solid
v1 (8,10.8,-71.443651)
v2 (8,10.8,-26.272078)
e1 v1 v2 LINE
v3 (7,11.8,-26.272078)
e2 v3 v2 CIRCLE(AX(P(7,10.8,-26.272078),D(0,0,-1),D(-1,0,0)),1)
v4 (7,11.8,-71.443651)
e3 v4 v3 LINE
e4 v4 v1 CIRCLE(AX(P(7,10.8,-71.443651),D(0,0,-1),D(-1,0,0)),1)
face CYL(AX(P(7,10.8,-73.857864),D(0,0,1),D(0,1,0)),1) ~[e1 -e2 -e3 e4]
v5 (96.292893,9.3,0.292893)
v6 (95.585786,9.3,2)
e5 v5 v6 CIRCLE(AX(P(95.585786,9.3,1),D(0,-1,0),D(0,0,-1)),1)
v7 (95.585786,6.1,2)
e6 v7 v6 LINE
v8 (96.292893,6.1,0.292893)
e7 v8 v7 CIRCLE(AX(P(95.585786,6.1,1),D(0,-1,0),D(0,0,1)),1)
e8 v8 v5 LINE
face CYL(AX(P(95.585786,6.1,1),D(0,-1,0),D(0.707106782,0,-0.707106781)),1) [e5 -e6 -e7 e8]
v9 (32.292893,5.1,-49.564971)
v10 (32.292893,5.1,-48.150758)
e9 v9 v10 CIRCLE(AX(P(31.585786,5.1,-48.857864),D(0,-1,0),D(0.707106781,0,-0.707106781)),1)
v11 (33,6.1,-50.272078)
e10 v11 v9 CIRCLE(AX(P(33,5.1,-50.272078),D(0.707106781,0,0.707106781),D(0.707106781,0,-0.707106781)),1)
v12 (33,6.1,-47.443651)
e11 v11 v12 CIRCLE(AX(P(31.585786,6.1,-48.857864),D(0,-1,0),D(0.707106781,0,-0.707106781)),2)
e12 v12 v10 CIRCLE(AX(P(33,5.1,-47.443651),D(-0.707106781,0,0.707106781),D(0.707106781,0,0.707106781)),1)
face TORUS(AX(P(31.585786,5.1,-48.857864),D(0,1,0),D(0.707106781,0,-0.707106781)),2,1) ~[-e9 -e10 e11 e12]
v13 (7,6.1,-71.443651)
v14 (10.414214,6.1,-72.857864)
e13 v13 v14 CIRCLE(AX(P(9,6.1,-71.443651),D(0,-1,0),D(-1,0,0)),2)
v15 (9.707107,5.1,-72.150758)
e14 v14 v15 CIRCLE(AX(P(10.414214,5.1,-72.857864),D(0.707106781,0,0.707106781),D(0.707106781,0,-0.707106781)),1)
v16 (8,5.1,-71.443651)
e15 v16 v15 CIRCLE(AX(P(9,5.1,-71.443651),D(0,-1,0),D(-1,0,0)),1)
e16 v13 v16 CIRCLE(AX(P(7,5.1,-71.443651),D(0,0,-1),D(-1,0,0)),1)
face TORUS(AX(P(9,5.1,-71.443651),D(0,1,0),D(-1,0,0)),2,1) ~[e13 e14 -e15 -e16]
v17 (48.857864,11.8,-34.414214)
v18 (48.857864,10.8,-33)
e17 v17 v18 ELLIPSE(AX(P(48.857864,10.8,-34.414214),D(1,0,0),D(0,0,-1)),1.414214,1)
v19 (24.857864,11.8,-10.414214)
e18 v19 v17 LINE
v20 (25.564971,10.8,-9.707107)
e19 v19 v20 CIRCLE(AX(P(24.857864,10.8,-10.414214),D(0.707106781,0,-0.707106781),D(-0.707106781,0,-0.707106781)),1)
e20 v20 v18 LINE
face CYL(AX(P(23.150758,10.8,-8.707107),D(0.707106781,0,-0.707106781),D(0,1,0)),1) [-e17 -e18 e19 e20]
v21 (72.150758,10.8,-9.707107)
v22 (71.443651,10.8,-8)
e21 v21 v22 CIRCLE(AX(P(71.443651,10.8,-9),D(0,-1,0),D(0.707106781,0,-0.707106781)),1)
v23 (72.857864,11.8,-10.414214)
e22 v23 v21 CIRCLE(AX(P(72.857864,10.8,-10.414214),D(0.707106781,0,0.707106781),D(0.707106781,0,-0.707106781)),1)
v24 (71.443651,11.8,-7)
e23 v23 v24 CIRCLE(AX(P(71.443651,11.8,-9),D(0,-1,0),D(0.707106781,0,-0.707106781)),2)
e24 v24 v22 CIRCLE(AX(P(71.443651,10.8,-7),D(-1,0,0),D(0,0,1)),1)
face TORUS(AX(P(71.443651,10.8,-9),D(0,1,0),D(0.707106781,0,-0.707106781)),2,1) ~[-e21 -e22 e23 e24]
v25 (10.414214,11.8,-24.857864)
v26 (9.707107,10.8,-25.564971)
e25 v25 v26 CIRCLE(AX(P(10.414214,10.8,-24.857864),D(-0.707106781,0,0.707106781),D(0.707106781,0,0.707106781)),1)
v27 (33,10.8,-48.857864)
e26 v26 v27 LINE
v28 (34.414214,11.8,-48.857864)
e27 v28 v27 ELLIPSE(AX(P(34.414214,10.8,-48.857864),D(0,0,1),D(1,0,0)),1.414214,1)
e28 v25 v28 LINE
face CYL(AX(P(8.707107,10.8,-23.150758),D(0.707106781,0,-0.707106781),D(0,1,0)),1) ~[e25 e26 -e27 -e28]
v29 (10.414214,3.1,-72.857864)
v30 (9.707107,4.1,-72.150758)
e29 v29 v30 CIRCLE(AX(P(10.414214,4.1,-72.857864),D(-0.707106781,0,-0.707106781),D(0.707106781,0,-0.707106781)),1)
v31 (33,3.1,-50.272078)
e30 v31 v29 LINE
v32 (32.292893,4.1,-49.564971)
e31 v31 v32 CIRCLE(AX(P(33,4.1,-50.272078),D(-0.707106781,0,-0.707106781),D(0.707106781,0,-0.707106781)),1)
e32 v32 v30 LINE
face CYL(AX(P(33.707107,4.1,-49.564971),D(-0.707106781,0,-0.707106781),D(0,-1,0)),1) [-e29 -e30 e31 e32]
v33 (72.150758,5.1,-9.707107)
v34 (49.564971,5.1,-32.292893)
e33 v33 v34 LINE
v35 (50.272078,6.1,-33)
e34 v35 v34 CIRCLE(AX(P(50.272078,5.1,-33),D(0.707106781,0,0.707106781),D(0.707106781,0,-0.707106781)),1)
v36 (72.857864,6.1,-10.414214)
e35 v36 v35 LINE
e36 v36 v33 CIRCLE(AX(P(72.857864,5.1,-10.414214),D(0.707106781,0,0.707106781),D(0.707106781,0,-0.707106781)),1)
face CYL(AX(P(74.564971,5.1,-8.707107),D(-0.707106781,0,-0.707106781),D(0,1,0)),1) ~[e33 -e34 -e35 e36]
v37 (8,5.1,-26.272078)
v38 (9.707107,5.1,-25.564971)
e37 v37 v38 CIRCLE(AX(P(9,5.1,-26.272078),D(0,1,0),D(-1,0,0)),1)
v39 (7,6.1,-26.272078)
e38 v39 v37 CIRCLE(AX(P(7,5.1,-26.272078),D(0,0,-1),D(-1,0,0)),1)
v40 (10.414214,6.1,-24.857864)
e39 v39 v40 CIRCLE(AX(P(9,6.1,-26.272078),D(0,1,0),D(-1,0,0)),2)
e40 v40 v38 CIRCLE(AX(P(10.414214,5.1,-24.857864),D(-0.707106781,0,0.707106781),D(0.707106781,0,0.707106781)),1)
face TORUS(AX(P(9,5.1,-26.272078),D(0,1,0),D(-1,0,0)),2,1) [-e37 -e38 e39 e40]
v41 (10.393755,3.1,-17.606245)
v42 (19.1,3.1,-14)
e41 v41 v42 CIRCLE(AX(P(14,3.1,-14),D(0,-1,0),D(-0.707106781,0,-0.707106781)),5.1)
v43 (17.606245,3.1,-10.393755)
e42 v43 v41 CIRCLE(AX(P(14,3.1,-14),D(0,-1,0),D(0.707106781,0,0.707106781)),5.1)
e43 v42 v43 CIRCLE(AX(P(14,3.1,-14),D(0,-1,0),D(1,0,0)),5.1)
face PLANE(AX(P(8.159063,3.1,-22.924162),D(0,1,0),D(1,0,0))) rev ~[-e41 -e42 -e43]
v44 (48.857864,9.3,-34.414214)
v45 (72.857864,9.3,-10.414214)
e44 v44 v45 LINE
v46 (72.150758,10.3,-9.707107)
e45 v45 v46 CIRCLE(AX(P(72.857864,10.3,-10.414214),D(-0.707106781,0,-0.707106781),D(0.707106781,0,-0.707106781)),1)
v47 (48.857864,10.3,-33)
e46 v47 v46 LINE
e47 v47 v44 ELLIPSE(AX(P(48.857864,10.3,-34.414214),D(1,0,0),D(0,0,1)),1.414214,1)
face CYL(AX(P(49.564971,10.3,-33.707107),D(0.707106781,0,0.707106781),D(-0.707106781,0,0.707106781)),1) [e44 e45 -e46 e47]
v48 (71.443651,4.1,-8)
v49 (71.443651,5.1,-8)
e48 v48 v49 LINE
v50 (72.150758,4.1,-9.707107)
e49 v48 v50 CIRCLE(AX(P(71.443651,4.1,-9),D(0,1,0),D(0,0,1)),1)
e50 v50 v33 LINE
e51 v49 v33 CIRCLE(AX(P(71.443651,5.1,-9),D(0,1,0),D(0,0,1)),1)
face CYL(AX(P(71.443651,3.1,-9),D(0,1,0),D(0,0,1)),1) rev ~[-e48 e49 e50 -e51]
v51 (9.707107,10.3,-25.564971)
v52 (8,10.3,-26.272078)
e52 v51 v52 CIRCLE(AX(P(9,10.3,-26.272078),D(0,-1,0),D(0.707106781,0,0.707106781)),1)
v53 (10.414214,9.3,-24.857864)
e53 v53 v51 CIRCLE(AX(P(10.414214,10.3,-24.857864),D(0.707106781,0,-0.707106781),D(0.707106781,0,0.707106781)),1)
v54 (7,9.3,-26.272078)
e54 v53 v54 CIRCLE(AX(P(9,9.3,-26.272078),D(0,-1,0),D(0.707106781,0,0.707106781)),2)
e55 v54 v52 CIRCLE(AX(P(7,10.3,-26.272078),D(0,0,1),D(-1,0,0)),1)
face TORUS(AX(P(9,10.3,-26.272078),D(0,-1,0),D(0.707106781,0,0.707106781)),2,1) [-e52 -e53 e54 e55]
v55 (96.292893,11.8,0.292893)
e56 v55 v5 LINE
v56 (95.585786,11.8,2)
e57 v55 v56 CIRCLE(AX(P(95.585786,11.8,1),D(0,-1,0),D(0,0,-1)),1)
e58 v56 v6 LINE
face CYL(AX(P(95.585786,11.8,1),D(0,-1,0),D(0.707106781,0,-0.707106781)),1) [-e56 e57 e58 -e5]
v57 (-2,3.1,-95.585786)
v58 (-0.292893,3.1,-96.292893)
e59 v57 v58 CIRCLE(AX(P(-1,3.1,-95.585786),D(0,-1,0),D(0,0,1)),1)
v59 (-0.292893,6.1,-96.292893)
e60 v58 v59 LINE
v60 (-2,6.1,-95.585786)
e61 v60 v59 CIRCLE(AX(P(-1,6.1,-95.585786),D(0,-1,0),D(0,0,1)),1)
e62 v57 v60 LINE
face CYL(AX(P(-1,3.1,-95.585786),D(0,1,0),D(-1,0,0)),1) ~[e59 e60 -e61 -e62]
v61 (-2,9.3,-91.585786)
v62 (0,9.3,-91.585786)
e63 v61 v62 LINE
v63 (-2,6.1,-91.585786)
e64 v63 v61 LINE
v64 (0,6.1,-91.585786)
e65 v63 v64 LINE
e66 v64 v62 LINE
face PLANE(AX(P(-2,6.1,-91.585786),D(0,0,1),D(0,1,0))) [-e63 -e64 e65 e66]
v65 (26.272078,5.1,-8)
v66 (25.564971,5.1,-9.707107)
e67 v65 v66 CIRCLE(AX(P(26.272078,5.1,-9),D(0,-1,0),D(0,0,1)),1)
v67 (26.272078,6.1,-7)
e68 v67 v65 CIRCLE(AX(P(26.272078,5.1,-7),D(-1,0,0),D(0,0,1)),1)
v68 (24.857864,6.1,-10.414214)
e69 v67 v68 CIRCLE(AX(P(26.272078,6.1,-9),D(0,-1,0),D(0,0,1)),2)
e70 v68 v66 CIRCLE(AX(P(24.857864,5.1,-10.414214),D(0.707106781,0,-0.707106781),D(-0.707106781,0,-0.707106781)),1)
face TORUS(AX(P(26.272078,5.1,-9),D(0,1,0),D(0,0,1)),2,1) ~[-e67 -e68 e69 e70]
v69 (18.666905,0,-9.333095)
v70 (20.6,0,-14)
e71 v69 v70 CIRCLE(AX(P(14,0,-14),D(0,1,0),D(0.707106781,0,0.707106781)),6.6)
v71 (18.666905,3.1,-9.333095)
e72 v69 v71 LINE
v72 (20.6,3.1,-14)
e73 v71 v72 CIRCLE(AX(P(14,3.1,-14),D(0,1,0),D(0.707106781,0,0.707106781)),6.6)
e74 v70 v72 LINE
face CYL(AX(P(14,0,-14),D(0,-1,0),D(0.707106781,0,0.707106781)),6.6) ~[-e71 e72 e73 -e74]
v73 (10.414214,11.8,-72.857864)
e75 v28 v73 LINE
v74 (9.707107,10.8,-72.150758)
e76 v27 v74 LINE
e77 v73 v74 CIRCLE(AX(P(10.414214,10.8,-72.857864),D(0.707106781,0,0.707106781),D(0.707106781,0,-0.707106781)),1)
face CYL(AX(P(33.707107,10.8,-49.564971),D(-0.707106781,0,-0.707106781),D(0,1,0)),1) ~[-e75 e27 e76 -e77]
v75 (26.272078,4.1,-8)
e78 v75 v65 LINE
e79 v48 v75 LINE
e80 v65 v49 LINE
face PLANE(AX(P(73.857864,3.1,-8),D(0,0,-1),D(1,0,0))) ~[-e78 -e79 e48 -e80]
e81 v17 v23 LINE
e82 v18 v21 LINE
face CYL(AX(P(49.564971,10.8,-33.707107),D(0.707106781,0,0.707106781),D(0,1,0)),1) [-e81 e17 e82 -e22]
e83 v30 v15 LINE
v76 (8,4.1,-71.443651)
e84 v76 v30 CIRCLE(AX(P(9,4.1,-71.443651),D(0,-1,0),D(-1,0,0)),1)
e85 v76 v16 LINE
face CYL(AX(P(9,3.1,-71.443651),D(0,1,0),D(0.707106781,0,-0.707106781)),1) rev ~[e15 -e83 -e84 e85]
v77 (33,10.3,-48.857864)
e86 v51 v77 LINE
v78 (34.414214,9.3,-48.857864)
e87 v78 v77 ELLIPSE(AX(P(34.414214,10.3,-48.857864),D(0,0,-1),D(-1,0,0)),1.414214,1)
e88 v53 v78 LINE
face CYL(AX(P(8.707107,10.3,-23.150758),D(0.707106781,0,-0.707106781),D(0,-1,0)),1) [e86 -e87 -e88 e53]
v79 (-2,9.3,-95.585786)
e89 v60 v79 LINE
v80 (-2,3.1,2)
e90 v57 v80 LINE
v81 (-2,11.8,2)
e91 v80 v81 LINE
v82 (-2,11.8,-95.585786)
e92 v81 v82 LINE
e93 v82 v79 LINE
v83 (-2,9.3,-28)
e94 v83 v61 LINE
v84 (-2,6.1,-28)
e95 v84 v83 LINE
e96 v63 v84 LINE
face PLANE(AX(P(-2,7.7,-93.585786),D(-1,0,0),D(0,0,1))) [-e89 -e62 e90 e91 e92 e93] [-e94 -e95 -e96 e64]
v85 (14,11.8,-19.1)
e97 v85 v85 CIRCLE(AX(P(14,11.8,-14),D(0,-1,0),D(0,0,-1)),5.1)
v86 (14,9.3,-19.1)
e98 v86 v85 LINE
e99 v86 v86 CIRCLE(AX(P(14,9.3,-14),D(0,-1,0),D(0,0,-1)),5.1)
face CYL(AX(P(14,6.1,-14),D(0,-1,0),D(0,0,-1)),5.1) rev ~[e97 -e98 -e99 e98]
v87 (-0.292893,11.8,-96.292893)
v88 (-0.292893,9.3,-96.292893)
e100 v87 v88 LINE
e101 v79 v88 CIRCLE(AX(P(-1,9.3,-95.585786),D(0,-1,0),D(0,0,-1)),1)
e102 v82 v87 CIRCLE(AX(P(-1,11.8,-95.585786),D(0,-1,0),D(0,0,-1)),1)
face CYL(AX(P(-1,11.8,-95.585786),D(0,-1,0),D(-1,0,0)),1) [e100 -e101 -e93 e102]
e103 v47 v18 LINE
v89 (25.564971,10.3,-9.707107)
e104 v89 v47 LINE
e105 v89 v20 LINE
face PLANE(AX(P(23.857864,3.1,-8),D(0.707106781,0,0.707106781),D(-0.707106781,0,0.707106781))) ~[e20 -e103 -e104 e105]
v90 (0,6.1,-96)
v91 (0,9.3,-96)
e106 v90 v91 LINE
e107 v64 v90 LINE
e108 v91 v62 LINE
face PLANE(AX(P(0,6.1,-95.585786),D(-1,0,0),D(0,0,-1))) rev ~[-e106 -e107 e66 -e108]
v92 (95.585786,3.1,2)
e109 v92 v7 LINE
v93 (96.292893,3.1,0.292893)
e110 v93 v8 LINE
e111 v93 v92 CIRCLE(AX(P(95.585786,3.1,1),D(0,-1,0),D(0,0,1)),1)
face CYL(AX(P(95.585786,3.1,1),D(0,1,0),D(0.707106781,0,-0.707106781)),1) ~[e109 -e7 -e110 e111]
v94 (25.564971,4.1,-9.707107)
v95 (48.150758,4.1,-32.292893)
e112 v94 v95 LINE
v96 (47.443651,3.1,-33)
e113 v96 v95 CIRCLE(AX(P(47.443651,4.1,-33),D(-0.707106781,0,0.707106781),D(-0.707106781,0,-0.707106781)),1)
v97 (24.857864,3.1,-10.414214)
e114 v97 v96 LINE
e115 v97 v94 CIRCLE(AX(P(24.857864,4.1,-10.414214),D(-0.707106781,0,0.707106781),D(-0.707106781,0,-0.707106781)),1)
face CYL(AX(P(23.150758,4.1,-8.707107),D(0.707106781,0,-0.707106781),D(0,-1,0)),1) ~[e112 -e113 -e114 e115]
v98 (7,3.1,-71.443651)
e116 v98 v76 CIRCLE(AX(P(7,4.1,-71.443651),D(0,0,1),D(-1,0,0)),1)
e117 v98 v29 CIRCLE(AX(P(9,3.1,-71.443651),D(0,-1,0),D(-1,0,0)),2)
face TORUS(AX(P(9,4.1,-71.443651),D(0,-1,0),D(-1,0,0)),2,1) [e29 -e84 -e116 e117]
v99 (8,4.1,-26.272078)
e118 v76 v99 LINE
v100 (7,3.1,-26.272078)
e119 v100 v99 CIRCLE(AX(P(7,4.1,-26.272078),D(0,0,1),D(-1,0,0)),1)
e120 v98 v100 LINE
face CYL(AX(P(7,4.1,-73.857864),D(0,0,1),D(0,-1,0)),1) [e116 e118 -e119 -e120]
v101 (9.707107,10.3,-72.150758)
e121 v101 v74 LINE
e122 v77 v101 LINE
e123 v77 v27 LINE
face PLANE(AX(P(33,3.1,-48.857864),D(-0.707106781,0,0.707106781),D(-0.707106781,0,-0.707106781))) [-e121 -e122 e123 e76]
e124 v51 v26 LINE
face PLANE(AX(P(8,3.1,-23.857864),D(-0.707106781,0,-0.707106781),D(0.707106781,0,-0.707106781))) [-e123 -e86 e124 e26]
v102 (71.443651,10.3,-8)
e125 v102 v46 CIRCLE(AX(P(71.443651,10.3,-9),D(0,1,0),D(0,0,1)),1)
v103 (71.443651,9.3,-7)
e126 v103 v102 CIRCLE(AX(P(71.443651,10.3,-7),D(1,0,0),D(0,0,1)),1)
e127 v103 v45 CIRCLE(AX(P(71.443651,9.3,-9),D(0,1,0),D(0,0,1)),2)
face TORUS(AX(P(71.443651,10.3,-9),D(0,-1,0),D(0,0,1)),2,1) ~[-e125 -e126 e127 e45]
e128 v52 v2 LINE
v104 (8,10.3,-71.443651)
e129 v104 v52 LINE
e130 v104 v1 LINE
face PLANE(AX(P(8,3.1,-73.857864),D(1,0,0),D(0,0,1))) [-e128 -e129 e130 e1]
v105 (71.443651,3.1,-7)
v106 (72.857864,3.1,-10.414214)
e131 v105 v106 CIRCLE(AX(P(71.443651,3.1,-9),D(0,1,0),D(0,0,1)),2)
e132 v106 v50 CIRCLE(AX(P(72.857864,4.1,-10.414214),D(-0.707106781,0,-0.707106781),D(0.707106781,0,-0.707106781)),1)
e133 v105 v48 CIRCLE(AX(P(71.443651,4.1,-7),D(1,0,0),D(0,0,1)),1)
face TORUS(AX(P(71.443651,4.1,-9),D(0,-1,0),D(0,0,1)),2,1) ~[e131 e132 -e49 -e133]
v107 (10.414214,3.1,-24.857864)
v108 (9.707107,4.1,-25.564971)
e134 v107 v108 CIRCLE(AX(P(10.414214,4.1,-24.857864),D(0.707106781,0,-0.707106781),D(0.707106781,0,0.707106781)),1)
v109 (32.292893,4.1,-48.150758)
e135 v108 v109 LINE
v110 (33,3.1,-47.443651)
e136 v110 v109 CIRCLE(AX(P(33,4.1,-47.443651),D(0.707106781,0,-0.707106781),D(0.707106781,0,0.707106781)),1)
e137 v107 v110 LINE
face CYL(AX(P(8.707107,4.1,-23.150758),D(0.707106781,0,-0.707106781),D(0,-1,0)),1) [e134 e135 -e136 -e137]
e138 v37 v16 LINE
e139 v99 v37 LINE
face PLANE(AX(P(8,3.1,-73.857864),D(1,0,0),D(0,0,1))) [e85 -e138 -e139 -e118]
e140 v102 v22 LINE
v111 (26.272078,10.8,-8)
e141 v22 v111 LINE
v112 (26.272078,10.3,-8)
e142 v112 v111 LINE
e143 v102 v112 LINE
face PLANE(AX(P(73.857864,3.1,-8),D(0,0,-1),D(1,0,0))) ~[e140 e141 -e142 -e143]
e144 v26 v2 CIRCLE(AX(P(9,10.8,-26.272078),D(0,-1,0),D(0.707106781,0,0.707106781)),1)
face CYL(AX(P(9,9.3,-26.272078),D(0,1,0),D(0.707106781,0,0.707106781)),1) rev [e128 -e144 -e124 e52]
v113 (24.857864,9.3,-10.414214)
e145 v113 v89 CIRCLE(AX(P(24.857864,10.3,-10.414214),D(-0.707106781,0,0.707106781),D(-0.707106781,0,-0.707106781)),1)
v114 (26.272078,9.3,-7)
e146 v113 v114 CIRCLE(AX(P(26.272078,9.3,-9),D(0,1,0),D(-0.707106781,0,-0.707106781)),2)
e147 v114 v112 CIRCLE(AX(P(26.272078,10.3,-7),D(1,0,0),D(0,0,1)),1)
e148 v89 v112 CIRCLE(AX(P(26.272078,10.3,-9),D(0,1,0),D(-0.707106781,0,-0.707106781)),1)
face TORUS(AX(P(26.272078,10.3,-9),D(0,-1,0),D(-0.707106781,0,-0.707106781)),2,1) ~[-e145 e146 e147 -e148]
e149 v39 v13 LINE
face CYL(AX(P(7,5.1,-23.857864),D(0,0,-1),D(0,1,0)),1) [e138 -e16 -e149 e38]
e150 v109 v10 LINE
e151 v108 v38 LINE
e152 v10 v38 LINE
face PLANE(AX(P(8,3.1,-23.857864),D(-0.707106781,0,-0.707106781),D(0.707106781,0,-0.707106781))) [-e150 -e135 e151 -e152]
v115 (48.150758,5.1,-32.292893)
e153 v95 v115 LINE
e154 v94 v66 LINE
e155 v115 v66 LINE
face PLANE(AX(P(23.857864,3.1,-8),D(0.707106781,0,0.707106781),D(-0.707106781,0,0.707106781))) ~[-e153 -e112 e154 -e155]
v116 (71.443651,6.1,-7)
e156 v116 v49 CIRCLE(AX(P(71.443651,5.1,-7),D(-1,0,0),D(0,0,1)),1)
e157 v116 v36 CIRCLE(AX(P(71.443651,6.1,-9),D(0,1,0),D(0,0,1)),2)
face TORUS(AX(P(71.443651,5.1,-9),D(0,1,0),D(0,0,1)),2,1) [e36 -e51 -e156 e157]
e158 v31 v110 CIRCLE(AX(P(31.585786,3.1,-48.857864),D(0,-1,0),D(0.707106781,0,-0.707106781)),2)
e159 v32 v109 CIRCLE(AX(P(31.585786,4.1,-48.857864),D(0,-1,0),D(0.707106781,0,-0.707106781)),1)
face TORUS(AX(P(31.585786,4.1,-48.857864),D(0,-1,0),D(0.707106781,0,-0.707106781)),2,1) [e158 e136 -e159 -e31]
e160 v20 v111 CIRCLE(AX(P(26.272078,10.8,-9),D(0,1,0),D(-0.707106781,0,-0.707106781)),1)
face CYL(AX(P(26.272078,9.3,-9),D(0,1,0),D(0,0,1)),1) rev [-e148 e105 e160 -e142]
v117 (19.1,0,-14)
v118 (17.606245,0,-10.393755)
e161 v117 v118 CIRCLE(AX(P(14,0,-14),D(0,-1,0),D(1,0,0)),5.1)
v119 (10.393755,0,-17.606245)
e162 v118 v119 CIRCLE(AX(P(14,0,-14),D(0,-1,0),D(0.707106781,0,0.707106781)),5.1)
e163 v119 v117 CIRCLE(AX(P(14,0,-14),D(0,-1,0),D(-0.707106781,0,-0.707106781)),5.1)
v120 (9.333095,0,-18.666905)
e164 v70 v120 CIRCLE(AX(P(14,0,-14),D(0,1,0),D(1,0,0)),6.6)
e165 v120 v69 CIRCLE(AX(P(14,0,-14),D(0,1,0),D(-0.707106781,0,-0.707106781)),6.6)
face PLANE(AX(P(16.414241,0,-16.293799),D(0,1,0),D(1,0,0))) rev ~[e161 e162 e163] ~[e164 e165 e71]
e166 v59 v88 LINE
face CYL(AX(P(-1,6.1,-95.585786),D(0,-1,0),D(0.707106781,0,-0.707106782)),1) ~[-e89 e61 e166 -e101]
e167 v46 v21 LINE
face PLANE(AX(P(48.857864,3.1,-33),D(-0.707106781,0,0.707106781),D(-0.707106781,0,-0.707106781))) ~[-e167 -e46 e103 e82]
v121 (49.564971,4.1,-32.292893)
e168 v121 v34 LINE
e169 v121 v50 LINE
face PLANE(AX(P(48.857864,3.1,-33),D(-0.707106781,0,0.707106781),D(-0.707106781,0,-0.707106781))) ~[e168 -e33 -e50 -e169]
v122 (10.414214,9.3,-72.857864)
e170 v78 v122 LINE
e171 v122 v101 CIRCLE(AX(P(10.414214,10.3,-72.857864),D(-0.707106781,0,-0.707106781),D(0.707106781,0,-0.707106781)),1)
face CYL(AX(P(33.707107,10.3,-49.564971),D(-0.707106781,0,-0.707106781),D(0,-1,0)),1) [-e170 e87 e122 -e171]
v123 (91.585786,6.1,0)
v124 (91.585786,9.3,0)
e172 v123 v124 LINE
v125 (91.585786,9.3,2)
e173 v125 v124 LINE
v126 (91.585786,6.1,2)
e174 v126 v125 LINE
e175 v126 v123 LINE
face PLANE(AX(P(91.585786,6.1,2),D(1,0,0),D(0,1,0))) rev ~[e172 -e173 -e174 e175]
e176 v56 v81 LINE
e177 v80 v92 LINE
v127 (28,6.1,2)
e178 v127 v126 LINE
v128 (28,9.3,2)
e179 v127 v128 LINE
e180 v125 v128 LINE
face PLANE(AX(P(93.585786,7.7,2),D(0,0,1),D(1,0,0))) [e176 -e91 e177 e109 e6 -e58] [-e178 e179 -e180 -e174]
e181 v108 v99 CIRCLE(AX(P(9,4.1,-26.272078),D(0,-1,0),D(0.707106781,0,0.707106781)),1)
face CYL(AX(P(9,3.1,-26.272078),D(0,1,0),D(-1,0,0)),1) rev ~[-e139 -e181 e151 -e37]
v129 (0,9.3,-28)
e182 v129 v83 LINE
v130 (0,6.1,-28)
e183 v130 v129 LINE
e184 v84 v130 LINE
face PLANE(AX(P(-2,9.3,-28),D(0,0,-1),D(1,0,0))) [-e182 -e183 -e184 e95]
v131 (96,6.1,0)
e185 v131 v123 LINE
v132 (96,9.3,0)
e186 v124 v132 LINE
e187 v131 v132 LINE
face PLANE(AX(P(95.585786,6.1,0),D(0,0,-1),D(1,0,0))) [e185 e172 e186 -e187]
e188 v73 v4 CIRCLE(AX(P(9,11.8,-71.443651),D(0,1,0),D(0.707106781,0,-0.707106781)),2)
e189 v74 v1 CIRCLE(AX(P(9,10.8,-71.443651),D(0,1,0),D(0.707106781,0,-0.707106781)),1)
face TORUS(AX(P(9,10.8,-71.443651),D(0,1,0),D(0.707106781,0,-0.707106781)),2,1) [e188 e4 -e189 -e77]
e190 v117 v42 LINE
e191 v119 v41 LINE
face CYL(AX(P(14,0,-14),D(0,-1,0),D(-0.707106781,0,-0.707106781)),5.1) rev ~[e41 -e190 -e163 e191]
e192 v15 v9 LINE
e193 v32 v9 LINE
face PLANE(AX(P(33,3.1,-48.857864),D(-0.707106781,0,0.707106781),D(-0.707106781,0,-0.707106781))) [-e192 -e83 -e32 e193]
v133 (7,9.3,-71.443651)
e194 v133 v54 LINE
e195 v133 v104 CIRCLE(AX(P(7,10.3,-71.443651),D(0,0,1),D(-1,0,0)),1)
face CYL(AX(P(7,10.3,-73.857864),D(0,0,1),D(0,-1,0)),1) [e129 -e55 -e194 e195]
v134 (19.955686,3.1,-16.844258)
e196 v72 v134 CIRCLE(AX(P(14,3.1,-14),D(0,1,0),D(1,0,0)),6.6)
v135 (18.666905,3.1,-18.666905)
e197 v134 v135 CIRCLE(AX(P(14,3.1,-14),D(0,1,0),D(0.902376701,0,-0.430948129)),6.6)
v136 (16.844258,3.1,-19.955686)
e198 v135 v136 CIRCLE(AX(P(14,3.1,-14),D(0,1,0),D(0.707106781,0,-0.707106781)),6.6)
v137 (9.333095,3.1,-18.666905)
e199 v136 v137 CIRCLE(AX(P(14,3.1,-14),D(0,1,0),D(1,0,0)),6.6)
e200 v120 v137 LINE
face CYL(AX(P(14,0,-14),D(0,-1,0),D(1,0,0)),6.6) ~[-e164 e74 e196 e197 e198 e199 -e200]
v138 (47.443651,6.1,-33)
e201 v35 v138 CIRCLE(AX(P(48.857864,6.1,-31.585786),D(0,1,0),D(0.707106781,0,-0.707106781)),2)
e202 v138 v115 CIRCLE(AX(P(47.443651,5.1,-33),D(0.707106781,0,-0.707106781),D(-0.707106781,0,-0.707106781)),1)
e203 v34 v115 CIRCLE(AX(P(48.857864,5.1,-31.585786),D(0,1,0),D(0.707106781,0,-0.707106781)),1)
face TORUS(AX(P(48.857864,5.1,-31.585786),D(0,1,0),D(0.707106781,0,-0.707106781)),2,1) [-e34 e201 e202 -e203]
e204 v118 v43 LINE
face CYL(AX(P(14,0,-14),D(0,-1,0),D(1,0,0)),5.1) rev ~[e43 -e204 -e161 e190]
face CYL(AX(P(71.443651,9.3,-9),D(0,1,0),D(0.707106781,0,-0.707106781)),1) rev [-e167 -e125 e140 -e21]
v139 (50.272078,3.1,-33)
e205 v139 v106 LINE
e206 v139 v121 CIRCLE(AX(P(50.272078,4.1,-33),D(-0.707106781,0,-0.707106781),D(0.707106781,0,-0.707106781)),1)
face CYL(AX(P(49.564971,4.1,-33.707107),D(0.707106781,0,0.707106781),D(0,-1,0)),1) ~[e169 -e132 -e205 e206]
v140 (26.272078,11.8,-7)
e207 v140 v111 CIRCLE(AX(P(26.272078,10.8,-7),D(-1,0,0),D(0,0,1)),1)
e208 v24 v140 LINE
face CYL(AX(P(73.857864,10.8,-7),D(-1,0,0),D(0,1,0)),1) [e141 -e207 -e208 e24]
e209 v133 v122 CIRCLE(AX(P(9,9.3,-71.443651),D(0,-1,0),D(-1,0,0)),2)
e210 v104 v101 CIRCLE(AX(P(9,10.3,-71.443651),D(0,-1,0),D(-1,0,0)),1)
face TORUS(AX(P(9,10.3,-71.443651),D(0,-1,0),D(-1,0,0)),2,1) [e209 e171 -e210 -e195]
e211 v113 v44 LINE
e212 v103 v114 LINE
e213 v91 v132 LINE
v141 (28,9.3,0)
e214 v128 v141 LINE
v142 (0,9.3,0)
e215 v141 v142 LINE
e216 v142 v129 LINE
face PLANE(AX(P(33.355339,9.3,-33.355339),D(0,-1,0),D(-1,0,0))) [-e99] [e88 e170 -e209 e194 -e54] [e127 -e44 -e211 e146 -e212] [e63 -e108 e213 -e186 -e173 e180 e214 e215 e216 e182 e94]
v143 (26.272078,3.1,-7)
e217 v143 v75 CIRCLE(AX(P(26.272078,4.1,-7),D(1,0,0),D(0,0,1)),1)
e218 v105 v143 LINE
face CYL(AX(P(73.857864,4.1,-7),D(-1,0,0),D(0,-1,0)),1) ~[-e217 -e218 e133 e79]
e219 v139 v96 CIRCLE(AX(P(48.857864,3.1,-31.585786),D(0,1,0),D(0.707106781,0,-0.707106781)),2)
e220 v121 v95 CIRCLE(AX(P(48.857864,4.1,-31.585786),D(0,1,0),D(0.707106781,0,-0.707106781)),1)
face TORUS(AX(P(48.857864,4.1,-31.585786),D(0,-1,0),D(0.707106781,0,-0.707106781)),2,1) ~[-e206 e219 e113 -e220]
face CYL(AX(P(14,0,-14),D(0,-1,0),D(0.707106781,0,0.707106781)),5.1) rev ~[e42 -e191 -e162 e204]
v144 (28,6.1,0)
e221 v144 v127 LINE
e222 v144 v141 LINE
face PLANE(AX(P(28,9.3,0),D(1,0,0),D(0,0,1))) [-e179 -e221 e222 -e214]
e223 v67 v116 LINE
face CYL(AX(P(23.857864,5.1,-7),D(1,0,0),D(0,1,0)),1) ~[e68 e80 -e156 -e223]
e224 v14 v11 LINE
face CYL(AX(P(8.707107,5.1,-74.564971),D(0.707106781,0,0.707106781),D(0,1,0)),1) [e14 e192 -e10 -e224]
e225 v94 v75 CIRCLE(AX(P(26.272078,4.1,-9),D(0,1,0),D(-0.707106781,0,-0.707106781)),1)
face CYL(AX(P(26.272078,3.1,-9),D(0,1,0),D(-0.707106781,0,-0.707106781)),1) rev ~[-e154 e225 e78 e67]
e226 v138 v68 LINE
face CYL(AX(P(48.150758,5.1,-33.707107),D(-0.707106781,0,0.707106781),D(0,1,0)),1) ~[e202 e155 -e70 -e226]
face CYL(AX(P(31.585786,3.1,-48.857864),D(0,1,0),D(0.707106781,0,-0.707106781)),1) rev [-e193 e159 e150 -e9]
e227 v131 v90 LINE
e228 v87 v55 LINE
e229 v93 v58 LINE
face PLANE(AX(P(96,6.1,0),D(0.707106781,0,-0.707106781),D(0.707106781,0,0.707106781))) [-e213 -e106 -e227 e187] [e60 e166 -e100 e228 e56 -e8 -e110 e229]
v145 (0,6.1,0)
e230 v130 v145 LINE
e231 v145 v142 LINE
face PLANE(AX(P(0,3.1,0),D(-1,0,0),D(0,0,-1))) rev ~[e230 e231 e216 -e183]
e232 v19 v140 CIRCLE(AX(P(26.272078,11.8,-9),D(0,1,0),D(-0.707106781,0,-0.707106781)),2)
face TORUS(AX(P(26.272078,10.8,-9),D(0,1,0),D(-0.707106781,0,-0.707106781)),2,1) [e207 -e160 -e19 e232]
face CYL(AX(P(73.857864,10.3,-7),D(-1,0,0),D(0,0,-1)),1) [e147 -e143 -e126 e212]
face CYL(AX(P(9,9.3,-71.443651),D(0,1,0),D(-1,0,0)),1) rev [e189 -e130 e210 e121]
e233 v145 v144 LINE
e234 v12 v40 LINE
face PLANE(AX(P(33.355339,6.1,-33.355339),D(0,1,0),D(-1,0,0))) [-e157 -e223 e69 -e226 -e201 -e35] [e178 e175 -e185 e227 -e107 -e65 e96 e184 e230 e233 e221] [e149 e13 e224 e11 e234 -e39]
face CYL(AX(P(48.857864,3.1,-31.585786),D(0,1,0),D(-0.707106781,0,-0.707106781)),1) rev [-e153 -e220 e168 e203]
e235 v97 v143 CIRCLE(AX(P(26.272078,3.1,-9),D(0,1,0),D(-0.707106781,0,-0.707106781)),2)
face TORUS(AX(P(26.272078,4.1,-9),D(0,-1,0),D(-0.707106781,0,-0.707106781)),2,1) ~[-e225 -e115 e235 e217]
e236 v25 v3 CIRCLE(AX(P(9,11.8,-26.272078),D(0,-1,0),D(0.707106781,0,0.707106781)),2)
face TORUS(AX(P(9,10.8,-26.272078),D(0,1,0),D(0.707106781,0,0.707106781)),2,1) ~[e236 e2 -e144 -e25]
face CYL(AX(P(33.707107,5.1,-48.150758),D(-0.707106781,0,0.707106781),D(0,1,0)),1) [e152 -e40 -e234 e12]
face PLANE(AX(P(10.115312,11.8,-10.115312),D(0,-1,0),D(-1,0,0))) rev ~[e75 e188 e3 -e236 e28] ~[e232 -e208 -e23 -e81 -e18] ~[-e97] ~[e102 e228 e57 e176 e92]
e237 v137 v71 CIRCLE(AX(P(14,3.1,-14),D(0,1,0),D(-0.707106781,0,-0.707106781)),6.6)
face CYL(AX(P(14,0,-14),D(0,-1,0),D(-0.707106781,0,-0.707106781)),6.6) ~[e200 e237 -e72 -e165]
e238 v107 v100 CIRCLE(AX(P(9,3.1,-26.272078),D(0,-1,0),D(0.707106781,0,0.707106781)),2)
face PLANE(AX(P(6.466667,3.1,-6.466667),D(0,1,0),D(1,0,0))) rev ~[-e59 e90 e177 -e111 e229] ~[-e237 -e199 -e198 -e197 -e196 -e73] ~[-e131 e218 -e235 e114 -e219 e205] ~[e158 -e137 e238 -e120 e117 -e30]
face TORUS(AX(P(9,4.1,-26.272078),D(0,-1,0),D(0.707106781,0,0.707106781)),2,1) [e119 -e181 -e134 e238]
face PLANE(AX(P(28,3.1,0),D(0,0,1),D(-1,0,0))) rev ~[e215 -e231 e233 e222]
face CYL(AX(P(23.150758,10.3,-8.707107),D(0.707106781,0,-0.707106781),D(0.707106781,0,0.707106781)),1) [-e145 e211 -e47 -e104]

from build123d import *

# Parameters (mm, degrees)
BOSS_EXTRUDE1_DEPTH      = 3.1
BOSS_EXTRUDE2_DEPTH      = 3
BOSS_EXTRUDE4_DEPTH      = 3.2
BOSS_EXTRUDE4_DEPTH_BACK = 3
BOSS_EXTRUDE5_DEPTH      = 2.5
BOSS_EXTRUDE6_DEPTH      = 2.5
CUT_EXTRUDE1_START       = -3
SKETCH7_R                = 5.1
CUT_EXTRUDE1_DEPTH       = 10
BOSS_EXTRUDE7_DEPTH      = 3
FILLET1_R                = 1
CUT_EXTRUDE3_DEPTH       = 137.869712806
FILLET2_R                = 1
FILLET2_OF_MIRROR1_R     = 1
SKETCH20_W               = 4
SKETCH20_H               = 3.2
BOSS_EXTRUDE8_DEPTH      = 2
BOSS_EXTRUDE9_DEPTH      = 3.2
SKETCH22_W               = 4
SKETCH22_H               = 3.2
BOSS_EXTRUDE10_DEPTH     = 2
BOSS_EXTRUDE11_DEPTH     = 3.2


with BuildPart() as part:
    # Sketch1 → Boss-Extrude1 (new body)
    with BuildSketch(Plane(origin=(0, 0, 0), x_dir=(1, 0, 0), z_dir=(0, 1, 0))):
        with BuildLine():
            ThreePointArc((20.6, 14), (16.525710654, 20.097604915), (9.333095244, 18.666904756))
            Line((9.333095244, 18.666904756), (10.393755416, 17.606244584))
            ThreePointArc((10.393755416, 17.606244584), (15.951685505, 18.711785616), (19.1, 14))
            ThreePointArc((19.1, 14), (18.711785616, 12.048314495), (17.606244584, 10.393755416))
            Line((17.606244584, 10.393755416), (18.666904756, 9.333095244))
            ThreePointArc((18.666904756, 9.333095244), (20.097604915, 11.474289346), (20.6, 14))
        make_face()
        with BuildLine():
            Line((10.393755416, 17.606244584), (9.333095244, 18.666904756))
            ThreePointArc((9.333095244, 18.666904756), (9.333095244, 9.333095244), (18.666904756, 9.333095244))
            Line((18.666904756, 9.333095244), (17.606244584, 10.393755416))
            ThreePointArc((17.606244584, 10.393755416), (10.393755416, 10.393755416), (10.393755416, 17.606244584))
        make_face()
    extrude(amount=BOSS_EXTRUDE1_DEPTH)

    # Sketch2 → Boss-Extrude2 (add)
    with BuildSketch(Plane(origin=(0, 3.1, 0), x_dir=(1, 0, 0), z_dir=(0, 1, 0))):
        with BuildLine():
            Line((16.844257653, 19.955686224), (0, 28))
            Line((0, 28), (4.242424242, 23.757575758))
            Line((4.242424242, 23.757575758), (8.980990355, 21.494578276))
            Line((8.980990355, 21.494578276), (7.411542732, 20.588457268))
            Line((7.411542732, 20.588457268), (9.333095244, 18.666904756))
            ThreePointArc((9.333095244, 18.666904756), (12.883868272, 20.504940428), (16.844257653, 19.955686224))
        make_face()
        with BuildLine():
            Line((0, 28), (0, 0))
            Line((0, 0), (9.333095244, 9.333095244))
            ThreePointArc((9.333095244, 9.333095244), (7.4, 14), (9.333095244, 18.666904756))
            Line((9.333095244, 18.666904756), (7.411542732, 20.588457268))
            Line((7.411542732, 20.588457268), (4, 18.618802154))
            Line((4, 18.618802154), (4, 23.873350327))
            Line((4, 23.873350327), (4.242424242, 23.757575758))
            Line((4.242424242, 23.757575758), (0, 28))
        make_face()
        with BuildLine():
            Line((9.333095244, 9.333095244), (0, 0))
            Line((0, 0), (28, 0))
            Line((28, 0), (23.757575758, 4.242424242))
            Line((23.757575758, 4.242424242), (23.873350327, 4))
            Line((23.873350327, 4), (18.618802154, 4))
            Line((18.618802154, 4), (20.588457268, 7.411542732))
            Line((20.588457268, 7.411542732), (18.666904756, 9.333095244))
            ThreePointArc((18.666904756, 9.333095244), (14, 7.4), (9.333095244, 9.333095244))
        make_face()
        with BuildLine():
            Line((23.757575758, 4.242424242), (28, 0))
            Line((28, 0), (19.955686224, 16.844257653))
            ThreePointArc((19.955686224, 16.844257653), (20.436906442, 15.458161671), (20.6, 14))
            ThreePointArc((20.6, 14), (20.097604915, 11.474289346), (18.666904756, 9.333095244))
            Line((18.666904756, 9.333095244), (20.588457268, 7.411542732))
            Line((20.588457268, 7.411542732), (21.494578276, 8.980990355))
            Line((21.494578276, 8.980990355), (23.757575758, 4.242424242))
        make_face()
        with BuildLine():
            ThreePointArc((9.333095244, 18.666904756), (7.4, 14), (9.333095244, 9.333095244))
            Line((9.333095244, 9.333095244), (10.393755416, 10.393755416))
            ThreePointArc((10.393755416, 10.393755416), (8.9, 14), (10.393755416, 17.606244584))
            Line((10.393755416, 17.606244584), (9.333095244, 18.666904756))
        make_face()
        with BuildLine():
            Line((10.393755416, 10.393755416), (9.333095244, 9.333095244))
            ThreePointArc((9.333095244, 9.333095244), (14, 7.4), (18.666904756, 9.333095244))
            Line((18.666904756, 9.333095244), (17.606244584, 10.393755416))
            ThreePointArc((17.606244584, 10.393755416), (14, 8.9), (10.393755416, 10.393755416))
        make_face()
        with BuildLine():
            ThreePointArc((18.666904756, 18.666904756), (17.810463174, 19.388911801), (16.844257653, 19.955686224))
            ThreePointArc((16.844257653, 19.955686224), (12.883868272, 20.504940428), (9.333095244, 18.666904756))
            Line((9.333095244, 18.666904756), (10.393755416, 17.606244584))
            ThreePointArc((10.393755416, 17.606244584), (14, 19.1), (17.606244584, 17.606244584))
            Line((17.606244584, 17.606244584), (18.666904756, 18.666904756))
        make_face()
        with BuildLine():
            ThreePointArc((20.6, 14), (20.436906442, 15.458161671), (19.955686224, 16.844257653))
            ThreePointArc((19.955686224, 16.844257653), (19.388911801, 17.810463174), (18.666904756, 18.666904756))
            Line((18.666904756, 18.666904756), (17.606244584, 17.606244584))
            ThreePointArc((17.606244584, 17.606244584), (18.711785616, 15.951685505), (19.1, 14))
            ThreePointArc((19.1, 14), (18.711785616, 12.048314495), (17.606244584, 10.393755416))
            Line((17.606244584, 10.393755416), (18.666904756, 9.333095244))
            ThreePointArc((18.666904756, 9.333095244), (20.097604915, 11.474289346), (20.6, 14))
        make_face()
        with BuildLine():
            ThreePointArc((10.393755416, 17.606244584), (8.9, 14), (10.393755416, 10.393755416))
            Line((10.393755416, 10.393755416), (14, 14))
            Line((14, 14), (10.393755416, 17.606244584))
        make_face()
        with BuildLine():
            Line((14, 14), (10.393755416, 10.393755416))
            ThreePointArc((10.393755416, 10.393755416), (14, 8.9), (17.606244584, 10.393755416))
            Line((17.606244584, 10.393755416), (14, 14))
        make_face()
        with BuildLine():
            Line((17.606244584, 17.606244584), (14, 14))
            Line((14, 14), (17.606244584, 10.393755416))
            ThreePointArc((17.606244584, 10.393755416), (18.711785616, 12.048314495), (19.1, 14))
            ThreePointArc((19.1, 14), (18.711785616, 15.951685505), (17.606244584, 17.606244584))
        make_face()
        with BuildLine():
            Line((10.393755416, 17.606244584), (14, 14))
            Line((14, 14), (17.606244584, 17.606244584))
            ThreePointArc((17.606244584, 17.606244584), (14, 19.1), (10.393755416, 17.606244584))
        make_face()
    extrude(amount=BOSS_EXTRUDE2_DEPTH)

    # Sketch4 → Boss-Extrude4 (add, two sides: drawn at the far end of the back side and taken through both)
    with BuildSketch(Plane(origin=(0, 6.1, 0), x_dir=(1, 0, 0), z_dir=(0, 1, 0)).offset(-BOSS_EXTRUDE4_DEPTH_BACK)):
        Polygon((0, 28), (-2, 28), (-2, -2), (28, -2), (28, 0), (0, 0), align=None)
    extrude(amount=BOSS_EXTRUDE4_DEPTH + BOSS_EXTRUDE4_DEPTH_BACK)

    # Sketch5 → Boss-Extrude5 (add)
    with BuildSketch(Plane(origin=(0, 9.3, 0), x_dir=(1, 0, 0), z_dir=(0, 1, 0))):
        with BuildLine():
            Line((-2, 28), (0, 28))
            Line((0, 28), (15.695653699, 20.504225127))
            ThreePointArc((15.695653699, 20.504225127), (18.512471949, 18.512471949), (20.504225127, 15.695653699))
            Line((20.504225127, 15.695653699), (28, 0))
            Line((28, 0), (28, -2))
            Line((28, -2), (-2, -2))
            Line((-2, -2), (-2, 28))
        make_face()
    extrude(amount=BOSS_EXTRUDE5_DEPTH)

    # Sketch6 → Boss-Extrude6 (add)
    with BuildSketch(Plane(origin=(0, 11.8, 0), x_dir=(1, 0, 0), z_dir=(0, 1, 0))):
        Polygon((-2, -2), (-2, 98), (98, -2), align=None)
    extrude(amount=-BOSS_EXTRUDE6_DEPTH)

    # Sketch7 → Cut-Extrude1 (cut)
    with BuildSketch(Plane.XZ.offset(-3.1).offset(CUT_EXTRUDE1_START)):
        with Locations(Location((14, -14, 0), (0, 0, 270))):
            Circle(SKETCH7_R)
    extrude(amount=-CUT_EXTRUDE1_DEPTH, mode=Mode.SUBTRACT)

    # Sketch18 → Boss-Extrude7 (add)
    with BuildSketch(Plane.XZ.offset(-3.1)):
        Polygon((-2, 2), (98, 2), (-2, -98), align=None)
    extrude(amount=-BOSS_EXTRUDE7_DEPTH)

    # Fillet1
    fillet1_edges = [part.edges().sort_by_distance(p)[0] for p in [
        (-2, 4.6, -98),
        (98, 4.6, 2),
        (98, 10.55, 2),
        (-2, 10.55, -98),
    ]]
    fillet(fillet1_edges, radius=FILLET1_R)

    # Sketch19 → Cut-Extrude3 (cut, through all)
    with BuildSketch(Plane.XZ.offset(-3.1)):
        Polygon((33, -48.857864376), (8, -73.857864376), (8, -23.857864376), align=None)
    cut_extrude3 = extrude(amount=-CUT_EXTRUDE3_DEPTH, mode=Mode.SUBTRACT)

    # Fillet2
    fillet2_edges = [part.edges().sort_by_distance(p)[0] for p in [
        (20.5, 6.1, -61.357864376),
        (20.5, 3.1, -61.357864376),
        (20.5, 3.1, -36.357864376),
        (20.5, 6.1, -36.357864376),
        (20.5, 11.8, -36.357864376),
        (20.5, 11.8, -61.357864376),
        (20.5, 9.3, -61.357864376),
        (20.5, 9.3, -36.357864376),
        (8, 4.6, -73.857864376),
        (8, 3.1, -48.857864376),
        (8, 4.6, -23.857864376),
        (8, 6.1, -48.857864376),
        (8, 11.8, -48.857864376),
        (8, 10.55, -73.857864376),
        (8, 9.3, -48.857864376),
        (8, 10.55, -23.857864376),
        (33, 4.6, -48.857864376),
    ]]
    fillet(fillet2_edges, radius=FILLET2_R)

    # Mirror1: Cut-Extrude3 across plane
    add(cut_extrude3.mirror(Plane(origin=(0, 0, 0), x_dir=(-0.7071067811865475, 0, 0.7071067811865477), z_dir=(-0.7071067811865476, 0, -0.7071067811865475))), mode=Mode.SUBTRACT)

    # Fillet2 of Mirror1
    fillet2_of_mirror1_edges = [part.edges().sort_by_distance(p)[0] for p in [
        (61.357864376, 6.1, -20.5),
        (61.357864376, 3.1, -20.5),
        (36.357864376, 3.1, -20.5),
        (36.357864376, 6.1, -20.5),
        (36.357864376, 11.8, -20.5),
        (61.357864376, 11.8, -20.5),
        (61.357864376, 9.3, -20.5),
        (36.357864376, 9.3, -20.5),
        (73.857864376, 4.6, -8),
        (48.857864376, 3.1, -8),
        (23.857864376, 4.6, -8),
        (48.857864376, 6.1, -8),
        (48.857864376, 11.8, -8),
        (73.857864376, 10.55, -8),
        (48.857864376, 9.3, -8),
        (23.857864376, 10.55, -8),
        (48.857864376, 4.6, -33),
    ]]
    fillet(fillet2_of_mirror1_edges, radius=FILLET2_OF_MIRROR1_R)

    # Sketch20 → Boss-Extrude8 (add)
    with BuildSketch(Plane.ZY.offset(2)):
        with Locations((-93.585786438, 7.7)):
            Rectangle(SKETCH20_W, SKETCH20_H)
    extrude(amount=-BOSS_EXTRUDE8_DEPTH)

    # Sketch21 → Boss-Extrude9 (add)
    with BuildSketch(Plane(origin=(0, 6.1, 0), x_dir=(1, 0, 0), z_dir=(0, 1, 0))):
        with BuildLine():
            Line((-2, 95.585786438), (0, 95.585786438))
            Line((0, 95.585786438), (0, 96))
            Line((0, 96), (-0.292893219, 96.292893219))
            ThreePointArc((-0.292893219, 96.292893219), (-1.382683432, 96.50966597), (-2, 95.585786438))
        make_face()
    extrude(amount=BOSS_EXTRUDE9_DEPTH)

    # Sketch22 → Boss-Extrude10 (add)
    with BuildSketch(Plane.XY.offset(2)):
        with Locations((93.585786438, 7.7)):
            Rectangle(SKETCH22_W, SKETCH22_H)
    extrude(amount=-BOSS_EXTRUDE10_DEPTH)

    # Sketch23 → Boss-Extrude11 (add)
    with BuildSketch(Plane(origin=(0, 6.1, 0), x_dir=(1, 0, 0), z_dir=(0, 1, 0))):
        with BuildLine():
            Line((95.585786438, 0), (96, 0))
            Line((96, 0), (96.292893219, -0.292893219))
            ThreePointArc((96.292893219, -0.292893219), (96.50966597, -1.382683432), (95.585786438, -2))
            Line((95.585786438, -2), (95.585786438, 0))
        make_face()
    extrude(amount=BOSS_EXTRUDE11_DEPTH)


solid = part.part
